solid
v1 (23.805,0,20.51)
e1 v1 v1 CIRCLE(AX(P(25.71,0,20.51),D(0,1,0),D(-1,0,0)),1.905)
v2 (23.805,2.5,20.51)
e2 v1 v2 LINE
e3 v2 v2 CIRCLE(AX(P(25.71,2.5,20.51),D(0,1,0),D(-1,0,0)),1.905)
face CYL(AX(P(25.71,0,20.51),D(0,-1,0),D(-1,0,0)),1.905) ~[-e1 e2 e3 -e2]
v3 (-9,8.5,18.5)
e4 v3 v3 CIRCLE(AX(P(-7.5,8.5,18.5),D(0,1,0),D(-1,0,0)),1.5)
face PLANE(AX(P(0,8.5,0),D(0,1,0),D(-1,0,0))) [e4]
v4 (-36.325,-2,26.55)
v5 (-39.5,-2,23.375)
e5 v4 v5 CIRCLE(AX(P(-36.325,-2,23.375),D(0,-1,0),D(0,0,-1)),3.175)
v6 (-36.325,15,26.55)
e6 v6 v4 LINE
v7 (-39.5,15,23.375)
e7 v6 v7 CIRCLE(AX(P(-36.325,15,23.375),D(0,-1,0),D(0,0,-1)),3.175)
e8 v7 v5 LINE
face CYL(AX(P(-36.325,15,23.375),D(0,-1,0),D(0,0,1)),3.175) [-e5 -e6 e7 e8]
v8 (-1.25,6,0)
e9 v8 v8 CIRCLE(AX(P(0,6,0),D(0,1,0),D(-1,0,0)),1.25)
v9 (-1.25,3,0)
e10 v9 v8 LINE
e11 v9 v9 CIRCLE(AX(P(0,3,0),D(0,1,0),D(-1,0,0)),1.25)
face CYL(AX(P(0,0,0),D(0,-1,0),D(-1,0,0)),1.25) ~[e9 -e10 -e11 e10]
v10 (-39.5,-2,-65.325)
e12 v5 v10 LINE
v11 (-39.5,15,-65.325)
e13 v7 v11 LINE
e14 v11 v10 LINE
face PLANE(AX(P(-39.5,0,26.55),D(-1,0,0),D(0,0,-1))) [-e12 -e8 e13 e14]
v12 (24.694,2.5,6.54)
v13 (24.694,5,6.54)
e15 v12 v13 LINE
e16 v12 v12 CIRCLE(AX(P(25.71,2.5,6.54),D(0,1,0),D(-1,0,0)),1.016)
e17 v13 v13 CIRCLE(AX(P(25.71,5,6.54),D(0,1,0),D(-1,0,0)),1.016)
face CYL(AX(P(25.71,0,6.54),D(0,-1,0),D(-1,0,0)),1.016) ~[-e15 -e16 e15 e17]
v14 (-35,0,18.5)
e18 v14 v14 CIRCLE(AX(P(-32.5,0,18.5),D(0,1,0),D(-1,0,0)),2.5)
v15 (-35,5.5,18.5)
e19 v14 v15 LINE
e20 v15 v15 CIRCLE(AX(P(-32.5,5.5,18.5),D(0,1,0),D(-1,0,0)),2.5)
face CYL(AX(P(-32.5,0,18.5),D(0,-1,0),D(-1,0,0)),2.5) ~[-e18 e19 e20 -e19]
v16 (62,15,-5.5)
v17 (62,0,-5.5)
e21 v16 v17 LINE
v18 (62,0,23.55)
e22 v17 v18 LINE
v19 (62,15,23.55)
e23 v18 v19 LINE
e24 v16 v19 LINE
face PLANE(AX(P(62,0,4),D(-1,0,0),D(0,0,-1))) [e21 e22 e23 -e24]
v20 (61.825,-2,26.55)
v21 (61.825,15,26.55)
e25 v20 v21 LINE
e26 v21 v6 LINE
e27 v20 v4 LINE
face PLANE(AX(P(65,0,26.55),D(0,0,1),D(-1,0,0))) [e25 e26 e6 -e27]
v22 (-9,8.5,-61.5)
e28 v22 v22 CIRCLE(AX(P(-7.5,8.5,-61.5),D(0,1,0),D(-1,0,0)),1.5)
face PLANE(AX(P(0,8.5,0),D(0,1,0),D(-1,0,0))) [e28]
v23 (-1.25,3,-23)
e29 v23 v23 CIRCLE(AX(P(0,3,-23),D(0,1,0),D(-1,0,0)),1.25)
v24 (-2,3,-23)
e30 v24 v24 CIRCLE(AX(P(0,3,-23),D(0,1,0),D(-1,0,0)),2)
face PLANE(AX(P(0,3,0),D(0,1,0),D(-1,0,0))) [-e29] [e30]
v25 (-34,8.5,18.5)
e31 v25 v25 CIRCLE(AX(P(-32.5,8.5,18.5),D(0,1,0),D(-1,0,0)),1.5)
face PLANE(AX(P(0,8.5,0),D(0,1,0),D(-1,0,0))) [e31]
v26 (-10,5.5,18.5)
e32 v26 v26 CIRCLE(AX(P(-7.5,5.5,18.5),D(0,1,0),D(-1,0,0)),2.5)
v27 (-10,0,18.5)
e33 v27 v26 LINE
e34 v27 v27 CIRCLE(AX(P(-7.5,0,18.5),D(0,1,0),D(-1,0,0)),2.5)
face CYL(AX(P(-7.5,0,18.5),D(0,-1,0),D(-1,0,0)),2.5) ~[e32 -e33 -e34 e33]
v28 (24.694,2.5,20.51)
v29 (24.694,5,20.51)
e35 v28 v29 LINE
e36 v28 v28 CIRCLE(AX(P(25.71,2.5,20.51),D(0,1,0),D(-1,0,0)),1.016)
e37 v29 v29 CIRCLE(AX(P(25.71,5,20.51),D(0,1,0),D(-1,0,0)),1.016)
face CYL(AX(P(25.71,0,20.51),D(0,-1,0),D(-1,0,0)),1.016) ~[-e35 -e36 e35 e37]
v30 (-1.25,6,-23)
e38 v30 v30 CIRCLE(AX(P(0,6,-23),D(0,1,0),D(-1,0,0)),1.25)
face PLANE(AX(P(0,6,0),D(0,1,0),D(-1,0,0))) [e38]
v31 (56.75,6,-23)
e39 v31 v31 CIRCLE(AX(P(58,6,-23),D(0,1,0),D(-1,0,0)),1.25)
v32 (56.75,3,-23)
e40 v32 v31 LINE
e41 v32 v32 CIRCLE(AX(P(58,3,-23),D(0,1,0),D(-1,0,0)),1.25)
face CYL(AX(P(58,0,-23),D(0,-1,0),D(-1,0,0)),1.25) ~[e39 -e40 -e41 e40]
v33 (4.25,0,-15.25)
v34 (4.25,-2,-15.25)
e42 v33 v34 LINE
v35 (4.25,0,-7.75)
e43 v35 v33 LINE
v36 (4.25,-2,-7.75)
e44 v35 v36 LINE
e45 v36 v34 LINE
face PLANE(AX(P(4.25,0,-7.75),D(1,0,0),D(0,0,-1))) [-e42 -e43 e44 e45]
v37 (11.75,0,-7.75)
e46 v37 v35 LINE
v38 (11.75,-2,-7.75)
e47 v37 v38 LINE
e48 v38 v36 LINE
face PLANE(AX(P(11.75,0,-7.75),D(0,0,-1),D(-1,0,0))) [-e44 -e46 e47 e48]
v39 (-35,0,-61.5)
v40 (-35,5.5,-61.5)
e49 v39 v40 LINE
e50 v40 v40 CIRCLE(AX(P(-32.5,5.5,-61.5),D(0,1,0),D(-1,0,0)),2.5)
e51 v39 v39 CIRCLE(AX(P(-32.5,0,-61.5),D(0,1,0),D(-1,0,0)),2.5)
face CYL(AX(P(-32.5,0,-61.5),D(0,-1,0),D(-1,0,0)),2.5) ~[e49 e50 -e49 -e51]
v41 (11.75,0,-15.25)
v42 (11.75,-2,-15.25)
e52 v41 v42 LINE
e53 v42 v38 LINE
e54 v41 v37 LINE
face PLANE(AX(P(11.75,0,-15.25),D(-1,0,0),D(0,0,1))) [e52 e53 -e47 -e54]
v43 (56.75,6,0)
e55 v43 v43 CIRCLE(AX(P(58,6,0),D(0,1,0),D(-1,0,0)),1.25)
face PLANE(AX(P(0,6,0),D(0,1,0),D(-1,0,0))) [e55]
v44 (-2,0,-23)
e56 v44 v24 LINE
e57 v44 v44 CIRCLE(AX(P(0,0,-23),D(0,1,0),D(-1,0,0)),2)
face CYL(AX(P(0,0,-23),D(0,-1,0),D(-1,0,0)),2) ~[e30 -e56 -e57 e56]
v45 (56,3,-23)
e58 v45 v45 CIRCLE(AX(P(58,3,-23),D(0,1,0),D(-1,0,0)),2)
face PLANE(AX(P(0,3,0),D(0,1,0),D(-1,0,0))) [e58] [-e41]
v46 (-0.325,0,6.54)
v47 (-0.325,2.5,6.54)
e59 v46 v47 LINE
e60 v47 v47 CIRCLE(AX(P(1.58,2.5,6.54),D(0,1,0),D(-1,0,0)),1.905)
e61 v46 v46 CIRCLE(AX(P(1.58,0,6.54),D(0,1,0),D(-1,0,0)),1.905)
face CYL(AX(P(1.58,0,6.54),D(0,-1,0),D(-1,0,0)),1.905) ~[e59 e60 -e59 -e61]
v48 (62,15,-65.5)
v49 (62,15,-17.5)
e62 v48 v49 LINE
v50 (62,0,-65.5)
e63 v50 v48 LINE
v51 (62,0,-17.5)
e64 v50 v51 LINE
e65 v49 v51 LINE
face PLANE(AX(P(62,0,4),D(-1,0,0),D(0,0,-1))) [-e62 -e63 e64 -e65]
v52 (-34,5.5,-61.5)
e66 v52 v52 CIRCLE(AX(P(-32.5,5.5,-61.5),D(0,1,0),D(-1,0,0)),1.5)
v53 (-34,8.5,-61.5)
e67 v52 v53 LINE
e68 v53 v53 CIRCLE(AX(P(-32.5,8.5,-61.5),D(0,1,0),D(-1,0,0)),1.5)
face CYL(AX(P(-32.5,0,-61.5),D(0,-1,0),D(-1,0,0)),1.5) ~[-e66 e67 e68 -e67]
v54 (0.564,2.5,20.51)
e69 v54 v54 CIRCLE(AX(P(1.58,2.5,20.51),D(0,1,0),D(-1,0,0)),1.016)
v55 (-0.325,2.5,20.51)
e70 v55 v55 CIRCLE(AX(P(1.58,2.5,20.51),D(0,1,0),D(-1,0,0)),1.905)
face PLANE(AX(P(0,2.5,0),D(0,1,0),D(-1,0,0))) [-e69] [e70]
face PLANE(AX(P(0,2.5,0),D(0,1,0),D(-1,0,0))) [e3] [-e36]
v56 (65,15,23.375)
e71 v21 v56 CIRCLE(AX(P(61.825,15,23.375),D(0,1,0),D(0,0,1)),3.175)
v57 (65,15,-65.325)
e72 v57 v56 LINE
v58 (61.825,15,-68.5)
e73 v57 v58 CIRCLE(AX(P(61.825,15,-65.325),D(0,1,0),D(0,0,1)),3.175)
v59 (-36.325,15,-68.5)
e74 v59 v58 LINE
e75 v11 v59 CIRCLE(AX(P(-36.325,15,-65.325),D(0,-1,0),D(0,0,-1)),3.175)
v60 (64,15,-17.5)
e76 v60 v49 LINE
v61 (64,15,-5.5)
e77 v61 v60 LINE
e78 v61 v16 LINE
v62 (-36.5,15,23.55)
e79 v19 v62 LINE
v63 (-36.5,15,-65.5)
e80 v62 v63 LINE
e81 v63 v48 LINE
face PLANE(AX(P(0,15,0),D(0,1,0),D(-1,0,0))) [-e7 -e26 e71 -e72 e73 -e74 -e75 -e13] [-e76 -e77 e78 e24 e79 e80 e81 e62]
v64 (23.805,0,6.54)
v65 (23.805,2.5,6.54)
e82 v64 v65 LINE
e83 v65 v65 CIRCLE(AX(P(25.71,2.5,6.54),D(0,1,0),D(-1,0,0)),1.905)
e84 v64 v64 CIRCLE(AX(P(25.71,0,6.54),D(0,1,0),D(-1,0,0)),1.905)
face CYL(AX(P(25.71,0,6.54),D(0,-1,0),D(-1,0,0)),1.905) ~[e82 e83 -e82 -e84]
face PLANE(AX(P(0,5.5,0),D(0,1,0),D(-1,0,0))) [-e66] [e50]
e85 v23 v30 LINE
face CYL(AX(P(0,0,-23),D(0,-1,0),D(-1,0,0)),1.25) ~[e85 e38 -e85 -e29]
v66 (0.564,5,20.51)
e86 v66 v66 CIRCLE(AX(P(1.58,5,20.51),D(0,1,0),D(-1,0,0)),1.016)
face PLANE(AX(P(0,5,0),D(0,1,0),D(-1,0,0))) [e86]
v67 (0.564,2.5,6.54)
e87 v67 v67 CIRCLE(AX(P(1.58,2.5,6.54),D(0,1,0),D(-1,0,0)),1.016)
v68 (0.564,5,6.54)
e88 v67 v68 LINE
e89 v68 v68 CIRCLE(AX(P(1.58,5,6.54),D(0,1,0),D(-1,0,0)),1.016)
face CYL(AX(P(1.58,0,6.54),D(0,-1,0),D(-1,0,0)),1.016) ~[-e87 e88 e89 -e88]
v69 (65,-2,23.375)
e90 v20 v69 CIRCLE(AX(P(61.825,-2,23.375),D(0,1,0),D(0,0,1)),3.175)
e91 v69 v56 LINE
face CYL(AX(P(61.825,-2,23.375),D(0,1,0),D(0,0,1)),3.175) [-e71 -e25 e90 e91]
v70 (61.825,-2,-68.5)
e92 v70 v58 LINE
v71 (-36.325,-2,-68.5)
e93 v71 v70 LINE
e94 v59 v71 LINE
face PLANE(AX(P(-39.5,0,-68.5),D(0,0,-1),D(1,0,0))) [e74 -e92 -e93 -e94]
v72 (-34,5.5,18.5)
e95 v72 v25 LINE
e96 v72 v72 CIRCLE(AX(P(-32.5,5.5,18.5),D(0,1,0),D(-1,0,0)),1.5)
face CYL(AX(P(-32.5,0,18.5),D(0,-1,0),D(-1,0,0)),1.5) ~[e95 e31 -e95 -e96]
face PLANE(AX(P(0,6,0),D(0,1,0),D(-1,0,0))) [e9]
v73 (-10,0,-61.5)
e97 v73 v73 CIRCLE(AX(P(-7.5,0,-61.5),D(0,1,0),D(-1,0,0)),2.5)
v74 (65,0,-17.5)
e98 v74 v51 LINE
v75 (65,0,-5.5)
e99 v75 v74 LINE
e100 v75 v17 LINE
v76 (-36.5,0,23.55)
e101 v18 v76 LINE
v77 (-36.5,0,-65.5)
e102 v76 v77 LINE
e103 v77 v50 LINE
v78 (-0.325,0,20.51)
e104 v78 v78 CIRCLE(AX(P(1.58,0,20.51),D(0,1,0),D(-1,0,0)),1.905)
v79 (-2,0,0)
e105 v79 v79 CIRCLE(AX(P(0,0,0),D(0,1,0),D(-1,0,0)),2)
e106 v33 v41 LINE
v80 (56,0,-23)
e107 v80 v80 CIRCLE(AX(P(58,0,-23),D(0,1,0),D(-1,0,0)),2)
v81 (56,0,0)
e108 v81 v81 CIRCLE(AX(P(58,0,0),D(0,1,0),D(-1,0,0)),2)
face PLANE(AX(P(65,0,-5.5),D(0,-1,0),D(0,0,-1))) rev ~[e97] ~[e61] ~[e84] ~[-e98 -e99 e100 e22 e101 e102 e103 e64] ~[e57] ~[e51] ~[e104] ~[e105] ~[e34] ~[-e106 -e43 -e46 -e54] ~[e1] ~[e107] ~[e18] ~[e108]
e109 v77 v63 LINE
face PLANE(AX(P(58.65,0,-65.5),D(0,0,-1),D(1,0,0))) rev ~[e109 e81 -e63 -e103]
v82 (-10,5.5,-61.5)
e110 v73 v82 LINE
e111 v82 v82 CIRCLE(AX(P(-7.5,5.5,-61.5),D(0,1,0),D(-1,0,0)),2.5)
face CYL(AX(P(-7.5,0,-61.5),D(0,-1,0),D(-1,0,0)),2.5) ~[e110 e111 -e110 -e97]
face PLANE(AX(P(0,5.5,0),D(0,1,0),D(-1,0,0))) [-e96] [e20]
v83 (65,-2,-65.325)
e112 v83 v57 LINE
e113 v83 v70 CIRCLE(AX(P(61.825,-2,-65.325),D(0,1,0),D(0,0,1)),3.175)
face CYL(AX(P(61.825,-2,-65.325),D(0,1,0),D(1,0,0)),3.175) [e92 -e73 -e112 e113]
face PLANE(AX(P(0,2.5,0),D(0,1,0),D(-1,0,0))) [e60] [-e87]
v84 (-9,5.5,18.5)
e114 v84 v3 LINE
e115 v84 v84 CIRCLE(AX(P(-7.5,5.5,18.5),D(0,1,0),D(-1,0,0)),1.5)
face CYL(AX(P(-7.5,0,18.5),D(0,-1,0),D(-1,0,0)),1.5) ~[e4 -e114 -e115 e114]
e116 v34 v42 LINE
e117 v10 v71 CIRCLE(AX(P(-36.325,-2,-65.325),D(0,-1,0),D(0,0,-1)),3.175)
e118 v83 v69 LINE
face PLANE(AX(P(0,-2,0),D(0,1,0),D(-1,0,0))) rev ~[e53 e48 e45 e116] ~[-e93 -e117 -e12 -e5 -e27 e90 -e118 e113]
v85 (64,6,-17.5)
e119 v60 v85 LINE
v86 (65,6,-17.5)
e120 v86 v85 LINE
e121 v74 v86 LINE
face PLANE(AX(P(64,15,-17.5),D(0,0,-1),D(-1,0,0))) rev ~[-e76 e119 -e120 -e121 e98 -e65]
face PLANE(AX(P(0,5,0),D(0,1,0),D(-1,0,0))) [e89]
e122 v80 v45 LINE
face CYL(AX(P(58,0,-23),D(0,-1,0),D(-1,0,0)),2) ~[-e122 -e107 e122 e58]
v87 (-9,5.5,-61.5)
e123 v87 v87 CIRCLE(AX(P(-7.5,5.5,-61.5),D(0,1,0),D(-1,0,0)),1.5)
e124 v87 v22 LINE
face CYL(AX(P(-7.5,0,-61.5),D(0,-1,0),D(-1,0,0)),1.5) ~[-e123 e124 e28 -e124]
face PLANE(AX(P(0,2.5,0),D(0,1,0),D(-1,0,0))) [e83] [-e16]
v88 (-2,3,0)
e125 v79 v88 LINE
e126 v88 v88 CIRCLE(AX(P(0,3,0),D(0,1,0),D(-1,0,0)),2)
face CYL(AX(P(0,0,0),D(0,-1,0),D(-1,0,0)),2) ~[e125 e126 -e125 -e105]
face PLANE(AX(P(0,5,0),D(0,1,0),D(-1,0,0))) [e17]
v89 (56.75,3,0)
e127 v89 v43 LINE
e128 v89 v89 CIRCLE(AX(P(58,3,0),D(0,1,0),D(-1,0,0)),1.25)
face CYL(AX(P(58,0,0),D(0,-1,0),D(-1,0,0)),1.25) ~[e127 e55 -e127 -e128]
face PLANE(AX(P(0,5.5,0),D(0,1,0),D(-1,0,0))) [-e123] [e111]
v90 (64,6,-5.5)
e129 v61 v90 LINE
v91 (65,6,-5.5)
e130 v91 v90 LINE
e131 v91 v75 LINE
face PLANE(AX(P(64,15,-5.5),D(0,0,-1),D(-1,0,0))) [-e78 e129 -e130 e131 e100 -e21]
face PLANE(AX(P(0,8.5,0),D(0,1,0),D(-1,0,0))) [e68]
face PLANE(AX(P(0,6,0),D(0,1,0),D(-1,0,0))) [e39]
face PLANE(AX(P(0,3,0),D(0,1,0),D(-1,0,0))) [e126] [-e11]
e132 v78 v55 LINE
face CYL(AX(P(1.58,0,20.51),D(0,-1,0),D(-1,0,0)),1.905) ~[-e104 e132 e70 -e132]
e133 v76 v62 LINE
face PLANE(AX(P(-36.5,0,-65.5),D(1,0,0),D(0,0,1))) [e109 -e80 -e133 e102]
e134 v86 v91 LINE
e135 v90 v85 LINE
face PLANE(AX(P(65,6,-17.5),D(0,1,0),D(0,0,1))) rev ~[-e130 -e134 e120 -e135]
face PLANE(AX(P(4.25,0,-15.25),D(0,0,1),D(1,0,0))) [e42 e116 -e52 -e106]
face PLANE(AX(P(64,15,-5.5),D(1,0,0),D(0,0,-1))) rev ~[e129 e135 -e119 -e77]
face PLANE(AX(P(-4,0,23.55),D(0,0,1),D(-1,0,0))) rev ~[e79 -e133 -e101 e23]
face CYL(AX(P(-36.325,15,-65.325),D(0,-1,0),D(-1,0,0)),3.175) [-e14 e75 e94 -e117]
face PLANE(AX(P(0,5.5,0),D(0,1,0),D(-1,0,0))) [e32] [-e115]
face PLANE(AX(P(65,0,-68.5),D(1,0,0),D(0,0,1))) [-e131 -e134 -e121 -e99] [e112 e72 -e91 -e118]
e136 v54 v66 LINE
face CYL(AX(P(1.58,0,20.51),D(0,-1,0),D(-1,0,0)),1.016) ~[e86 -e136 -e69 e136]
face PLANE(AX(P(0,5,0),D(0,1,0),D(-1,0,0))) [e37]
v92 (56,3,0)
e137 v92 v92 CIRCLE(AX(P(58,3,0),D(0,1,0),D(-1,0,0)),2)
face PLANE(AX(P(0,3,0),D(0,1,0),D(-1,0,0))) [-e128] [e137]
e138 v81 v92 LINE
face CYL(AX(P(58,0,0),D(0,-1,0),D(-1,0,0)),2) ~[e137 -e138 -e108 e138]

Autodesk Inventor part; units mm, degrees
ref_plane "YZ Plane" through (0, 0, 0) normal (1, 0, 0) x (0, 1, 0)
ref_plane "XZ Plane" through (0, 0, 0) normal (0, 1, 0) x (-1, 0, 0)
ref_plane "XY Plane" through (0, 0, 0) normal (0, 0, 1) x (1, 0, 0)
sketch "Sketch1" plane through (0, 0, 0) normal (0, 1, 0) x (-1, 0, 0)
  circle A0 centre (0, 0) radius 1.25
  line L0 (0, 0) -> (-58, 0) construction
  line L1 (0, 0) -> (58, 0) construction
  circle A1 centre (-58, 0) radius 1.25
  line L2 (0, 0) -> (0, -23) construction
  line L3 (0, 0) -> (23, 0) construction
  line L4 (0, -23) -> (-58, -23) construction
  line L5 (-58, -23) -> (-58, 0) construction
  circle A2 centre (-58, -23) radius 1.25
  circle A3 centre (0, -23) radius 1.25
  line L6 (-61.5, 3.5) -> (3.5, 3.5)
  line L7 (3.5, 3.5) -> (3.5, -26.5)
  line L8 (3.5, -26.5) -> (-61.5, -26.5)
  line L9 (-61.5, -26.5) -> (-61.5, 3.5)
  line L10 (-61.5, 3.5) -> (3.5, -26.5) construction
  line L11 (3.5, 3.5) -> (-61.5, -26.5) construction
  circle A4 centre (0, 0) radius 2
  circle A5 centre (0, -23) radius 2
  circle A6 centre (-58, -23) radius 2
  circle A7 centre (-58, 0) radius 2
  line L12 (3.5, 3.5) -> (-61.5, 3.5)
  line L13 (-61.5, 3.5) -> (-61.5, 4)
  line L14 (-61.5, 4) -> (3.5, 4)
  line L15 (3.5, 4) -> (3.5, 3.5)
  line L16 (3.5, 4) -> (-28.25, 4)
  line L17 (-28.25, 4) -> (-28.25, 23.05)
  line L18 (-28.25, 23.05) -> (3.5, 23.05)
  line L19 (3.5, 23.05) -> (3.5, 4)
  line L20 (-58, -11.5) -> (0, -11.5) construction
  line L21 (-29, -23) -> (-29, 0) construction
  line L22 (3.5, 23.05) -> (-1.58, 23.05)
  line L23 (-1.58, 23.05) -> (-1.58, 20.51) construction
  line L24 (-1.58, 20.51) -> (3.5, 20.51) construction
  line L25 (3.5, 20.51) -> (3.5, 23.05)
  circle A8 centre (-1.58, 20.51) radius 1.016
  line L26 (3.5, 4) -> (-1.58, 4)
  line L27 (-1.58, 4) -> (-1.58, 6.54) construction
  line L28 (-1.58, 6.54) -> (3.5, 6.54) construction
  line L29 (3.5, 6.54) -> (3.5, 4)
  line L30 (-28.25, 4) -> (-25.71, 4)
  line L31 (-25.71, 4) -> (-25.71, 6.54) construction
  line L32 (-25.71, 6.54) -> (-28.25, 6.54) construction
  line L33 (-28.25, 6.54) -> (-28.25, 4)
  line L34 (-28.25, 23.05) -> (-25.71, 23.05)
  line L35 (-25.71, 23.05) -> (-25.71, 20.51) construction
  line L36 (-25.71, 20.51) -> (-28.25, 20.51) construction
  line L37 (-28.25, 20.51) -> (-28.25, 23.05)
  circle A9 centre (-25.71, 20.51) radius 1.016
  circle A10 centre (-25.71, 6.54) radius 1.016
  circle A11 centre (-1.58, 6.54) radius 1.016
  circle A12 centre (-1.58, 20.51) radius 1.905
  circle A13 centre (-1.58, 6.54) radius 1.905
  circle A14 centre (-25.71, 6.54) radius 1.905
  circle A15 centre (-25.71, 20.51) radius 1.905
  line L38 (3.5, -26.5) -> (-61.5, -26.5)
  line L39 (-61.5, -26.5) -> (-61.5, -27)
  line L40 (-61.5, -27) -> (3.5, -27)
  line L41 (3.5, -27) -> (3.5, -26.5)
  line L42 (3.5, -27) -> (-58.65, -27)
  line L43 (-58.65, -27) -> (-58.65, -65)
  line L44 (-58.65, -65) -> (3.5, -65)
  line L45 (3.5, -65) -> (3.5, -27)
  line L46 (3.5, 23.05) -> (4, 23.05)
  line L47 (4, 23.05) -> (4, -65)
  line L48 (4, -65) -> (3.5, -65)
  line L49 (3.5, -65) -> (3.5, 23.05)
  line L50 (4, -65) -> (36, -65)
  line L51 (36, -65) -> (36, 22)
  line L52 (36, 22) -> (4, 22)
  line L53 (4, 22) -> (4, -65)
  line L54 (36, -21.5) -> (4, -21.5) construction
  line L55 (20, -65) -> (20, 22) construction
  line L56 (7.5, -61.5) -> (32.5, -61.5) construction
  line L57 (32.5, -61.5) -> (32.5, 18.5) construction
  line L58 (32.5, 18.5) -> (7.5, 18.5) construction
  line L59 (7.5, 18.5) -> (7.5, -61.5) construction
  line L60 (7.5, -61.5) -> (32.5, 18.5) construction
  line L61 (32.5, -61.5) -> (7.5, 18.5) construction
  circle A16 centre (32.5, 18.5) radius 1.5
  circle A17 centre (7.5, 18.5) radius 1.5
  circle A18 centre (7.5, -61.5) radius 1.5
  circle A19 centre (32.5, -61.5) radius 1.5
  circle A20 centre (32.5, 18.5) radius 2.5
  circle A21 centre (7.5, 18.5) radius 2.5
  circle A22 centre (32.5, -61.5) radius 2.5
  circle A23 centre (7.5, -61.5) radius 2.5
  line L62 (4, 23.05) -> (-28.25, 23.05)
  line L63 (-28.25, 23.05) -> (-28.25, 23.55)
  line L64 (-28.25, 23.55) -> (4, 23.55)
  line L65 (4, 23.55) -> (4, 23.05)
  line L66 (36, 22) -> (36.5, 22)
  line L67 (36.5, 22) -> (36.5, -65)
  line L68 (36.5, -65) -> (36, -65)
  line L69 (36, -65) -> (36, 22)
  line L70 (36.5, -65) -> (-58.65, -65)
  line L71 (-58.65, -65) -> (-58.65, -65.5)
  line L72 (-58.65, -65.5) -> (36.5, -65.5)
  line L73 (36.5, -65.5) -> (36.5, -65)
  line L74 (-61.5, 4) -> (-62, 4)
  line L75 (-62, 4) -> (-62, -27)
  line L76 (-62, -27) -> (-61.5, -27)
  line L77 (-61.5, -27) -> (-61.5, 4)
  line L78 (-62, 23.55) -> (36.5, 23.55)
  line L79 (36.5, 23.55) -> (36.5, -65.5)
  line L80 (36.5, -65.5) -> (-62, -65.5)
  line L81 (-62, -65.5) -> (-62, 23.55)
  line L82 (-65, 26.55) -> (39.5, 26.55)
  line L83 (39.5, 26.55) -> (39.5, -68.5)
  line L84 (39.5, -68.5) -> (-65, -68.5)
  line L85 (-65, -68.5) -> (-65, 26.55)
  line L86 (3.5, 3.5) -> (-8, 3.5)
  line L87 (-8, 3.5) -> (-8, -26.5) construction
  line L88 (-8, -26.5) -> (3.5, -26.5)
  line L89 (3.5, -26.5) -> (3.5, 3.5)
  line L90 (-11.75, -7.75) -> (-4.25, -7.75)
  line L91 (-4.25, -7.75) -> (-4.25, -15.25)
  line L92 (-4.25, -15.25) -> (-11.75, -15.25)
  line L93 (-11.75, -15.25) -> (-11.75, -7.75)
  line L94 (-11.75, -7.75) -> (-4.25, -15.25) construction
  line L95 (-4.25, -7.75) -> (-11.75, -15.25) construction
  point P0 (-29, -11.5)
  point P1 (20, -21.5)
  point P2 (-8, -11.5)
  dimension "d0" = 2.5
  dimension "d1" = 58
  dimension "d2" = 180
  dimension "d3" = 2.5
  dimension "d4" = 23
  dimension "d5" = 270
  dimension "d6" = 90
  dimension "d7" = 2.5
  dimension "d8" = 2.5
  dimension "d9" = 65
  dimension "d10" = 30
  dimension "d11" = 4
  dimension "d12" = 4
  dimension "d13" = 4
  dimension "d14" = 4
  dimension "d15" = 0.5
  dimension "d16" = 31.75
  dimension "d17" = 19.05
  dimension "d18" = 5.08
  dimension "d19" = 2.54
  dimension "d20" = 2.032
  dimension "d21" = 5.08
  dimension "d22" = 2.54
  dimension "d23" = 2.54
  dimension "d24" = 2.54
  dimension "d25" = 2.54
  dimension "d26" = 2.54
  dimension "d27" = 2.032
  dimension "d28" = 2.032
  dimension "d29" = 2.032
  dimension "d30" = 3.81
  dimension "d31" = 3.81
  dimension "d32" = 3.81
  dimension "d33" = 3.81
  dimension "d34" = 0.5
  dimension "d35" = 62.15
  dimension "d36" = 38
  dimension "d37" = 0.5
  dimension "d38" = 32
  dimension "d39" = 87
  dimension "d40" = 25
  dimension "d41" = 80
  dimension "d42" = 3
  dimension "d43" = 3
  dimension "d44" = 3
  dimension "d45" = 3
  dimension "d46" = 5
  dimension "d47" = 5
  dimension "d48" = 5
  dimension "d49" = 5
  dimension "d50" = 0.5
  dimension "d51" = 0.5
  dimension "d52" = 0.5
  dimension "d53" = 0.5
  dimension "d56" = 3
  dimension "d59" = 11.5
  dimension "d60" = 7.5
  dimension "d61" = 7.5
extrude "Extrusion1" add sketch "Sketch1" against normal blind 2 contours A0 | A1 | A2 | A3 | L13 L14 L15 L6 | L6 L7 L8 L9 | L9 L39 L76 L75 L74 L13 | L8 L41 L40 L39 | L74 L81 L78 L63 L17 L14 | L15 L19 L46 L47 L48 L45 L41 L7 | L40 L43 L71 L80 L81 L76 | L17 L18 L19 L14 | L40 L45 L44 L43 | L44 L48 L50 L68 L73 L72 L71 | L64 L65 L46 L18 L63 | L78 L79 L66 L52 L47 L65 | L47 L52 L51 L50 | L51 L66 L67 L68 | A4 | A5 | A6 | A7 | A8 | A9 | A10 | A11 | A12 | A13 | A14 | A15 | A16 | A17 | A18 | A19 | A20 | A21 | A22 | A23 | L82 L83 L84 L85 | L90 L91 L92 L93
extrude "Extrusion2" add sketch "Sketch1" along normal blind 15 contours L82 L83 L84 L85
extrude "Extrusion3" cut sketch "Sketch1" against normal up to surface (2 mm away) contours L90 L91 L92 L93
extrude "Extrusion4" add sketch "Sketch1" along normal blind 5.5 contours A20 | A21 | A22 | A23
extrude "Extrusion5" add sketch "Sketch1" along normal blind 8.5 contours A16 | A17 | A18 | A19
extrude "Extrusion6" add sketch "Sketch1" along normal blind 3 contours A4 | A5 | A6 | A7
extrude "Extrusion7" add sketch "Sketch1" along normal blind 6 contours A0 | A1 | A2 | A3
extrude "Extrusion8" add sketch "Sketch1" along normal blind 2.5 contours A12 | A13 | A14 | A15
extrude "Extrusion9" add sketch "Sketch1" along normal blind 5 contours A8 | A9 | A10 | A11
sketch "Sketch2" plane through (65, -2, 26.55) normal (1, 0, 0) x (0, 0, -1)
  line L0 (28.55, 5) -> (24.55, 5) projected
  line L1 (51.55, 5) -> (47.55, 5) projected
  line L2 (24.55, 5) -> (51.55, 5) construction
  line L3 (44.05, 8) -> (32.05, 8)
  line L4 (32.05, 8) -> (32.05, 2)
  line L5 (32.05, 2) -> (44.05, 2)
  line L6 (44.05, 2) -> (44.05, 8)
  line L7 (44.05, 8) -> (32.05, 2) construction
  line L8 (32.05, 8) -> (44.05, 2) construction
  line L9 (44.05, 8) -> (56.05, 8) construction
  point P0 (26.55, 2)
  point P1 (38.05, 5)
  dimension "d76" = 12
  dimension "d77" = 180
extrude "Extrusion10" cut sketch "Sketch2" against normal up to surface (3 mm away)
sketch "Sketch3" plane through (0, 15, 0) normal (0, 1, 0) x (1, 0, 0)
  circle A0 centre (25.71, -6.54) radius 1.905 projected
  circle A1 centre (1.58, -6.54) radius 1.905 projected
  circle A2 centre (25.71, -20.51) radius 1.905 projected
  circle A3 centre (1.58, -20.51) radius 1.905 projected
  circle A4 centre (58, 23) radius 2 projected
  circle A5 centre (0, 23) radius 2 projected
  circle A6 centre (58, 0) radius 2 projected
  circle A7 centre (0, 0) radius 2 projected
  circle A8 centre (-32.5, 61.5) radius 2.5 projected
  circle A9 centre (-32.5, -18.5) radius 2.5 projected
  circle A10 centre (-7.5, 61.5) radius 2.5 projected
  circle A11 centre (-7.5, -18.5) radius 2.5 projected
  line L0 (11.75, 15.25) -> (11.75, 7.75) projected
  line L1 (11.75, 7.75) -> (4.25, 7.75) projected
  line L2 (4.25, 7.75) -> (4.25, 15.25) projected
  line L3 (4.25, 15.25) -> (11.75, 15.25) projected
  line L4 (62, 65.5) -> (-36.5, 65.5) projected
  line L5 (-36.5, 65.5) -> (-36.5, -23.55) projected
  line L6 (-36.5, -23.55) -> (62, -23.55) projected
  line L7 (62, -23.55) -> (62, 5.5) projected
  line L8 (65, 5.5) -> (62, 5.5) projected
  line L9 (65, 17.5) -> (65, 5.5) projected
  line L10 (65, 17.5) -> (62, 17.5) projected
  line L11 (62, 17.5) -> (62, 65.5) projected
  line L12 (62, 5.5) -> (64, 5.5)
  line L13 (64, 5.5) -> (64, 17.5)
  line L14 (64, 17.5) -> (62, 17.5)
  line L15 (62, 17.5) -> (62, 5.5)
  dimension "d80" = 2
extrude "Extrusion11" cut sketch "Sketch3" against normal up to surface (9 mm away) contours L10 L13 L8 L15
fillet "Fillet1" radius 3.175 4 edges at (65, 6.5, 26.55) (65, 6.5, -68.5) (-39.5, 6.5, -68.5) (-39.5, 6.5, 26.55)
properties part number "Enclosure"
